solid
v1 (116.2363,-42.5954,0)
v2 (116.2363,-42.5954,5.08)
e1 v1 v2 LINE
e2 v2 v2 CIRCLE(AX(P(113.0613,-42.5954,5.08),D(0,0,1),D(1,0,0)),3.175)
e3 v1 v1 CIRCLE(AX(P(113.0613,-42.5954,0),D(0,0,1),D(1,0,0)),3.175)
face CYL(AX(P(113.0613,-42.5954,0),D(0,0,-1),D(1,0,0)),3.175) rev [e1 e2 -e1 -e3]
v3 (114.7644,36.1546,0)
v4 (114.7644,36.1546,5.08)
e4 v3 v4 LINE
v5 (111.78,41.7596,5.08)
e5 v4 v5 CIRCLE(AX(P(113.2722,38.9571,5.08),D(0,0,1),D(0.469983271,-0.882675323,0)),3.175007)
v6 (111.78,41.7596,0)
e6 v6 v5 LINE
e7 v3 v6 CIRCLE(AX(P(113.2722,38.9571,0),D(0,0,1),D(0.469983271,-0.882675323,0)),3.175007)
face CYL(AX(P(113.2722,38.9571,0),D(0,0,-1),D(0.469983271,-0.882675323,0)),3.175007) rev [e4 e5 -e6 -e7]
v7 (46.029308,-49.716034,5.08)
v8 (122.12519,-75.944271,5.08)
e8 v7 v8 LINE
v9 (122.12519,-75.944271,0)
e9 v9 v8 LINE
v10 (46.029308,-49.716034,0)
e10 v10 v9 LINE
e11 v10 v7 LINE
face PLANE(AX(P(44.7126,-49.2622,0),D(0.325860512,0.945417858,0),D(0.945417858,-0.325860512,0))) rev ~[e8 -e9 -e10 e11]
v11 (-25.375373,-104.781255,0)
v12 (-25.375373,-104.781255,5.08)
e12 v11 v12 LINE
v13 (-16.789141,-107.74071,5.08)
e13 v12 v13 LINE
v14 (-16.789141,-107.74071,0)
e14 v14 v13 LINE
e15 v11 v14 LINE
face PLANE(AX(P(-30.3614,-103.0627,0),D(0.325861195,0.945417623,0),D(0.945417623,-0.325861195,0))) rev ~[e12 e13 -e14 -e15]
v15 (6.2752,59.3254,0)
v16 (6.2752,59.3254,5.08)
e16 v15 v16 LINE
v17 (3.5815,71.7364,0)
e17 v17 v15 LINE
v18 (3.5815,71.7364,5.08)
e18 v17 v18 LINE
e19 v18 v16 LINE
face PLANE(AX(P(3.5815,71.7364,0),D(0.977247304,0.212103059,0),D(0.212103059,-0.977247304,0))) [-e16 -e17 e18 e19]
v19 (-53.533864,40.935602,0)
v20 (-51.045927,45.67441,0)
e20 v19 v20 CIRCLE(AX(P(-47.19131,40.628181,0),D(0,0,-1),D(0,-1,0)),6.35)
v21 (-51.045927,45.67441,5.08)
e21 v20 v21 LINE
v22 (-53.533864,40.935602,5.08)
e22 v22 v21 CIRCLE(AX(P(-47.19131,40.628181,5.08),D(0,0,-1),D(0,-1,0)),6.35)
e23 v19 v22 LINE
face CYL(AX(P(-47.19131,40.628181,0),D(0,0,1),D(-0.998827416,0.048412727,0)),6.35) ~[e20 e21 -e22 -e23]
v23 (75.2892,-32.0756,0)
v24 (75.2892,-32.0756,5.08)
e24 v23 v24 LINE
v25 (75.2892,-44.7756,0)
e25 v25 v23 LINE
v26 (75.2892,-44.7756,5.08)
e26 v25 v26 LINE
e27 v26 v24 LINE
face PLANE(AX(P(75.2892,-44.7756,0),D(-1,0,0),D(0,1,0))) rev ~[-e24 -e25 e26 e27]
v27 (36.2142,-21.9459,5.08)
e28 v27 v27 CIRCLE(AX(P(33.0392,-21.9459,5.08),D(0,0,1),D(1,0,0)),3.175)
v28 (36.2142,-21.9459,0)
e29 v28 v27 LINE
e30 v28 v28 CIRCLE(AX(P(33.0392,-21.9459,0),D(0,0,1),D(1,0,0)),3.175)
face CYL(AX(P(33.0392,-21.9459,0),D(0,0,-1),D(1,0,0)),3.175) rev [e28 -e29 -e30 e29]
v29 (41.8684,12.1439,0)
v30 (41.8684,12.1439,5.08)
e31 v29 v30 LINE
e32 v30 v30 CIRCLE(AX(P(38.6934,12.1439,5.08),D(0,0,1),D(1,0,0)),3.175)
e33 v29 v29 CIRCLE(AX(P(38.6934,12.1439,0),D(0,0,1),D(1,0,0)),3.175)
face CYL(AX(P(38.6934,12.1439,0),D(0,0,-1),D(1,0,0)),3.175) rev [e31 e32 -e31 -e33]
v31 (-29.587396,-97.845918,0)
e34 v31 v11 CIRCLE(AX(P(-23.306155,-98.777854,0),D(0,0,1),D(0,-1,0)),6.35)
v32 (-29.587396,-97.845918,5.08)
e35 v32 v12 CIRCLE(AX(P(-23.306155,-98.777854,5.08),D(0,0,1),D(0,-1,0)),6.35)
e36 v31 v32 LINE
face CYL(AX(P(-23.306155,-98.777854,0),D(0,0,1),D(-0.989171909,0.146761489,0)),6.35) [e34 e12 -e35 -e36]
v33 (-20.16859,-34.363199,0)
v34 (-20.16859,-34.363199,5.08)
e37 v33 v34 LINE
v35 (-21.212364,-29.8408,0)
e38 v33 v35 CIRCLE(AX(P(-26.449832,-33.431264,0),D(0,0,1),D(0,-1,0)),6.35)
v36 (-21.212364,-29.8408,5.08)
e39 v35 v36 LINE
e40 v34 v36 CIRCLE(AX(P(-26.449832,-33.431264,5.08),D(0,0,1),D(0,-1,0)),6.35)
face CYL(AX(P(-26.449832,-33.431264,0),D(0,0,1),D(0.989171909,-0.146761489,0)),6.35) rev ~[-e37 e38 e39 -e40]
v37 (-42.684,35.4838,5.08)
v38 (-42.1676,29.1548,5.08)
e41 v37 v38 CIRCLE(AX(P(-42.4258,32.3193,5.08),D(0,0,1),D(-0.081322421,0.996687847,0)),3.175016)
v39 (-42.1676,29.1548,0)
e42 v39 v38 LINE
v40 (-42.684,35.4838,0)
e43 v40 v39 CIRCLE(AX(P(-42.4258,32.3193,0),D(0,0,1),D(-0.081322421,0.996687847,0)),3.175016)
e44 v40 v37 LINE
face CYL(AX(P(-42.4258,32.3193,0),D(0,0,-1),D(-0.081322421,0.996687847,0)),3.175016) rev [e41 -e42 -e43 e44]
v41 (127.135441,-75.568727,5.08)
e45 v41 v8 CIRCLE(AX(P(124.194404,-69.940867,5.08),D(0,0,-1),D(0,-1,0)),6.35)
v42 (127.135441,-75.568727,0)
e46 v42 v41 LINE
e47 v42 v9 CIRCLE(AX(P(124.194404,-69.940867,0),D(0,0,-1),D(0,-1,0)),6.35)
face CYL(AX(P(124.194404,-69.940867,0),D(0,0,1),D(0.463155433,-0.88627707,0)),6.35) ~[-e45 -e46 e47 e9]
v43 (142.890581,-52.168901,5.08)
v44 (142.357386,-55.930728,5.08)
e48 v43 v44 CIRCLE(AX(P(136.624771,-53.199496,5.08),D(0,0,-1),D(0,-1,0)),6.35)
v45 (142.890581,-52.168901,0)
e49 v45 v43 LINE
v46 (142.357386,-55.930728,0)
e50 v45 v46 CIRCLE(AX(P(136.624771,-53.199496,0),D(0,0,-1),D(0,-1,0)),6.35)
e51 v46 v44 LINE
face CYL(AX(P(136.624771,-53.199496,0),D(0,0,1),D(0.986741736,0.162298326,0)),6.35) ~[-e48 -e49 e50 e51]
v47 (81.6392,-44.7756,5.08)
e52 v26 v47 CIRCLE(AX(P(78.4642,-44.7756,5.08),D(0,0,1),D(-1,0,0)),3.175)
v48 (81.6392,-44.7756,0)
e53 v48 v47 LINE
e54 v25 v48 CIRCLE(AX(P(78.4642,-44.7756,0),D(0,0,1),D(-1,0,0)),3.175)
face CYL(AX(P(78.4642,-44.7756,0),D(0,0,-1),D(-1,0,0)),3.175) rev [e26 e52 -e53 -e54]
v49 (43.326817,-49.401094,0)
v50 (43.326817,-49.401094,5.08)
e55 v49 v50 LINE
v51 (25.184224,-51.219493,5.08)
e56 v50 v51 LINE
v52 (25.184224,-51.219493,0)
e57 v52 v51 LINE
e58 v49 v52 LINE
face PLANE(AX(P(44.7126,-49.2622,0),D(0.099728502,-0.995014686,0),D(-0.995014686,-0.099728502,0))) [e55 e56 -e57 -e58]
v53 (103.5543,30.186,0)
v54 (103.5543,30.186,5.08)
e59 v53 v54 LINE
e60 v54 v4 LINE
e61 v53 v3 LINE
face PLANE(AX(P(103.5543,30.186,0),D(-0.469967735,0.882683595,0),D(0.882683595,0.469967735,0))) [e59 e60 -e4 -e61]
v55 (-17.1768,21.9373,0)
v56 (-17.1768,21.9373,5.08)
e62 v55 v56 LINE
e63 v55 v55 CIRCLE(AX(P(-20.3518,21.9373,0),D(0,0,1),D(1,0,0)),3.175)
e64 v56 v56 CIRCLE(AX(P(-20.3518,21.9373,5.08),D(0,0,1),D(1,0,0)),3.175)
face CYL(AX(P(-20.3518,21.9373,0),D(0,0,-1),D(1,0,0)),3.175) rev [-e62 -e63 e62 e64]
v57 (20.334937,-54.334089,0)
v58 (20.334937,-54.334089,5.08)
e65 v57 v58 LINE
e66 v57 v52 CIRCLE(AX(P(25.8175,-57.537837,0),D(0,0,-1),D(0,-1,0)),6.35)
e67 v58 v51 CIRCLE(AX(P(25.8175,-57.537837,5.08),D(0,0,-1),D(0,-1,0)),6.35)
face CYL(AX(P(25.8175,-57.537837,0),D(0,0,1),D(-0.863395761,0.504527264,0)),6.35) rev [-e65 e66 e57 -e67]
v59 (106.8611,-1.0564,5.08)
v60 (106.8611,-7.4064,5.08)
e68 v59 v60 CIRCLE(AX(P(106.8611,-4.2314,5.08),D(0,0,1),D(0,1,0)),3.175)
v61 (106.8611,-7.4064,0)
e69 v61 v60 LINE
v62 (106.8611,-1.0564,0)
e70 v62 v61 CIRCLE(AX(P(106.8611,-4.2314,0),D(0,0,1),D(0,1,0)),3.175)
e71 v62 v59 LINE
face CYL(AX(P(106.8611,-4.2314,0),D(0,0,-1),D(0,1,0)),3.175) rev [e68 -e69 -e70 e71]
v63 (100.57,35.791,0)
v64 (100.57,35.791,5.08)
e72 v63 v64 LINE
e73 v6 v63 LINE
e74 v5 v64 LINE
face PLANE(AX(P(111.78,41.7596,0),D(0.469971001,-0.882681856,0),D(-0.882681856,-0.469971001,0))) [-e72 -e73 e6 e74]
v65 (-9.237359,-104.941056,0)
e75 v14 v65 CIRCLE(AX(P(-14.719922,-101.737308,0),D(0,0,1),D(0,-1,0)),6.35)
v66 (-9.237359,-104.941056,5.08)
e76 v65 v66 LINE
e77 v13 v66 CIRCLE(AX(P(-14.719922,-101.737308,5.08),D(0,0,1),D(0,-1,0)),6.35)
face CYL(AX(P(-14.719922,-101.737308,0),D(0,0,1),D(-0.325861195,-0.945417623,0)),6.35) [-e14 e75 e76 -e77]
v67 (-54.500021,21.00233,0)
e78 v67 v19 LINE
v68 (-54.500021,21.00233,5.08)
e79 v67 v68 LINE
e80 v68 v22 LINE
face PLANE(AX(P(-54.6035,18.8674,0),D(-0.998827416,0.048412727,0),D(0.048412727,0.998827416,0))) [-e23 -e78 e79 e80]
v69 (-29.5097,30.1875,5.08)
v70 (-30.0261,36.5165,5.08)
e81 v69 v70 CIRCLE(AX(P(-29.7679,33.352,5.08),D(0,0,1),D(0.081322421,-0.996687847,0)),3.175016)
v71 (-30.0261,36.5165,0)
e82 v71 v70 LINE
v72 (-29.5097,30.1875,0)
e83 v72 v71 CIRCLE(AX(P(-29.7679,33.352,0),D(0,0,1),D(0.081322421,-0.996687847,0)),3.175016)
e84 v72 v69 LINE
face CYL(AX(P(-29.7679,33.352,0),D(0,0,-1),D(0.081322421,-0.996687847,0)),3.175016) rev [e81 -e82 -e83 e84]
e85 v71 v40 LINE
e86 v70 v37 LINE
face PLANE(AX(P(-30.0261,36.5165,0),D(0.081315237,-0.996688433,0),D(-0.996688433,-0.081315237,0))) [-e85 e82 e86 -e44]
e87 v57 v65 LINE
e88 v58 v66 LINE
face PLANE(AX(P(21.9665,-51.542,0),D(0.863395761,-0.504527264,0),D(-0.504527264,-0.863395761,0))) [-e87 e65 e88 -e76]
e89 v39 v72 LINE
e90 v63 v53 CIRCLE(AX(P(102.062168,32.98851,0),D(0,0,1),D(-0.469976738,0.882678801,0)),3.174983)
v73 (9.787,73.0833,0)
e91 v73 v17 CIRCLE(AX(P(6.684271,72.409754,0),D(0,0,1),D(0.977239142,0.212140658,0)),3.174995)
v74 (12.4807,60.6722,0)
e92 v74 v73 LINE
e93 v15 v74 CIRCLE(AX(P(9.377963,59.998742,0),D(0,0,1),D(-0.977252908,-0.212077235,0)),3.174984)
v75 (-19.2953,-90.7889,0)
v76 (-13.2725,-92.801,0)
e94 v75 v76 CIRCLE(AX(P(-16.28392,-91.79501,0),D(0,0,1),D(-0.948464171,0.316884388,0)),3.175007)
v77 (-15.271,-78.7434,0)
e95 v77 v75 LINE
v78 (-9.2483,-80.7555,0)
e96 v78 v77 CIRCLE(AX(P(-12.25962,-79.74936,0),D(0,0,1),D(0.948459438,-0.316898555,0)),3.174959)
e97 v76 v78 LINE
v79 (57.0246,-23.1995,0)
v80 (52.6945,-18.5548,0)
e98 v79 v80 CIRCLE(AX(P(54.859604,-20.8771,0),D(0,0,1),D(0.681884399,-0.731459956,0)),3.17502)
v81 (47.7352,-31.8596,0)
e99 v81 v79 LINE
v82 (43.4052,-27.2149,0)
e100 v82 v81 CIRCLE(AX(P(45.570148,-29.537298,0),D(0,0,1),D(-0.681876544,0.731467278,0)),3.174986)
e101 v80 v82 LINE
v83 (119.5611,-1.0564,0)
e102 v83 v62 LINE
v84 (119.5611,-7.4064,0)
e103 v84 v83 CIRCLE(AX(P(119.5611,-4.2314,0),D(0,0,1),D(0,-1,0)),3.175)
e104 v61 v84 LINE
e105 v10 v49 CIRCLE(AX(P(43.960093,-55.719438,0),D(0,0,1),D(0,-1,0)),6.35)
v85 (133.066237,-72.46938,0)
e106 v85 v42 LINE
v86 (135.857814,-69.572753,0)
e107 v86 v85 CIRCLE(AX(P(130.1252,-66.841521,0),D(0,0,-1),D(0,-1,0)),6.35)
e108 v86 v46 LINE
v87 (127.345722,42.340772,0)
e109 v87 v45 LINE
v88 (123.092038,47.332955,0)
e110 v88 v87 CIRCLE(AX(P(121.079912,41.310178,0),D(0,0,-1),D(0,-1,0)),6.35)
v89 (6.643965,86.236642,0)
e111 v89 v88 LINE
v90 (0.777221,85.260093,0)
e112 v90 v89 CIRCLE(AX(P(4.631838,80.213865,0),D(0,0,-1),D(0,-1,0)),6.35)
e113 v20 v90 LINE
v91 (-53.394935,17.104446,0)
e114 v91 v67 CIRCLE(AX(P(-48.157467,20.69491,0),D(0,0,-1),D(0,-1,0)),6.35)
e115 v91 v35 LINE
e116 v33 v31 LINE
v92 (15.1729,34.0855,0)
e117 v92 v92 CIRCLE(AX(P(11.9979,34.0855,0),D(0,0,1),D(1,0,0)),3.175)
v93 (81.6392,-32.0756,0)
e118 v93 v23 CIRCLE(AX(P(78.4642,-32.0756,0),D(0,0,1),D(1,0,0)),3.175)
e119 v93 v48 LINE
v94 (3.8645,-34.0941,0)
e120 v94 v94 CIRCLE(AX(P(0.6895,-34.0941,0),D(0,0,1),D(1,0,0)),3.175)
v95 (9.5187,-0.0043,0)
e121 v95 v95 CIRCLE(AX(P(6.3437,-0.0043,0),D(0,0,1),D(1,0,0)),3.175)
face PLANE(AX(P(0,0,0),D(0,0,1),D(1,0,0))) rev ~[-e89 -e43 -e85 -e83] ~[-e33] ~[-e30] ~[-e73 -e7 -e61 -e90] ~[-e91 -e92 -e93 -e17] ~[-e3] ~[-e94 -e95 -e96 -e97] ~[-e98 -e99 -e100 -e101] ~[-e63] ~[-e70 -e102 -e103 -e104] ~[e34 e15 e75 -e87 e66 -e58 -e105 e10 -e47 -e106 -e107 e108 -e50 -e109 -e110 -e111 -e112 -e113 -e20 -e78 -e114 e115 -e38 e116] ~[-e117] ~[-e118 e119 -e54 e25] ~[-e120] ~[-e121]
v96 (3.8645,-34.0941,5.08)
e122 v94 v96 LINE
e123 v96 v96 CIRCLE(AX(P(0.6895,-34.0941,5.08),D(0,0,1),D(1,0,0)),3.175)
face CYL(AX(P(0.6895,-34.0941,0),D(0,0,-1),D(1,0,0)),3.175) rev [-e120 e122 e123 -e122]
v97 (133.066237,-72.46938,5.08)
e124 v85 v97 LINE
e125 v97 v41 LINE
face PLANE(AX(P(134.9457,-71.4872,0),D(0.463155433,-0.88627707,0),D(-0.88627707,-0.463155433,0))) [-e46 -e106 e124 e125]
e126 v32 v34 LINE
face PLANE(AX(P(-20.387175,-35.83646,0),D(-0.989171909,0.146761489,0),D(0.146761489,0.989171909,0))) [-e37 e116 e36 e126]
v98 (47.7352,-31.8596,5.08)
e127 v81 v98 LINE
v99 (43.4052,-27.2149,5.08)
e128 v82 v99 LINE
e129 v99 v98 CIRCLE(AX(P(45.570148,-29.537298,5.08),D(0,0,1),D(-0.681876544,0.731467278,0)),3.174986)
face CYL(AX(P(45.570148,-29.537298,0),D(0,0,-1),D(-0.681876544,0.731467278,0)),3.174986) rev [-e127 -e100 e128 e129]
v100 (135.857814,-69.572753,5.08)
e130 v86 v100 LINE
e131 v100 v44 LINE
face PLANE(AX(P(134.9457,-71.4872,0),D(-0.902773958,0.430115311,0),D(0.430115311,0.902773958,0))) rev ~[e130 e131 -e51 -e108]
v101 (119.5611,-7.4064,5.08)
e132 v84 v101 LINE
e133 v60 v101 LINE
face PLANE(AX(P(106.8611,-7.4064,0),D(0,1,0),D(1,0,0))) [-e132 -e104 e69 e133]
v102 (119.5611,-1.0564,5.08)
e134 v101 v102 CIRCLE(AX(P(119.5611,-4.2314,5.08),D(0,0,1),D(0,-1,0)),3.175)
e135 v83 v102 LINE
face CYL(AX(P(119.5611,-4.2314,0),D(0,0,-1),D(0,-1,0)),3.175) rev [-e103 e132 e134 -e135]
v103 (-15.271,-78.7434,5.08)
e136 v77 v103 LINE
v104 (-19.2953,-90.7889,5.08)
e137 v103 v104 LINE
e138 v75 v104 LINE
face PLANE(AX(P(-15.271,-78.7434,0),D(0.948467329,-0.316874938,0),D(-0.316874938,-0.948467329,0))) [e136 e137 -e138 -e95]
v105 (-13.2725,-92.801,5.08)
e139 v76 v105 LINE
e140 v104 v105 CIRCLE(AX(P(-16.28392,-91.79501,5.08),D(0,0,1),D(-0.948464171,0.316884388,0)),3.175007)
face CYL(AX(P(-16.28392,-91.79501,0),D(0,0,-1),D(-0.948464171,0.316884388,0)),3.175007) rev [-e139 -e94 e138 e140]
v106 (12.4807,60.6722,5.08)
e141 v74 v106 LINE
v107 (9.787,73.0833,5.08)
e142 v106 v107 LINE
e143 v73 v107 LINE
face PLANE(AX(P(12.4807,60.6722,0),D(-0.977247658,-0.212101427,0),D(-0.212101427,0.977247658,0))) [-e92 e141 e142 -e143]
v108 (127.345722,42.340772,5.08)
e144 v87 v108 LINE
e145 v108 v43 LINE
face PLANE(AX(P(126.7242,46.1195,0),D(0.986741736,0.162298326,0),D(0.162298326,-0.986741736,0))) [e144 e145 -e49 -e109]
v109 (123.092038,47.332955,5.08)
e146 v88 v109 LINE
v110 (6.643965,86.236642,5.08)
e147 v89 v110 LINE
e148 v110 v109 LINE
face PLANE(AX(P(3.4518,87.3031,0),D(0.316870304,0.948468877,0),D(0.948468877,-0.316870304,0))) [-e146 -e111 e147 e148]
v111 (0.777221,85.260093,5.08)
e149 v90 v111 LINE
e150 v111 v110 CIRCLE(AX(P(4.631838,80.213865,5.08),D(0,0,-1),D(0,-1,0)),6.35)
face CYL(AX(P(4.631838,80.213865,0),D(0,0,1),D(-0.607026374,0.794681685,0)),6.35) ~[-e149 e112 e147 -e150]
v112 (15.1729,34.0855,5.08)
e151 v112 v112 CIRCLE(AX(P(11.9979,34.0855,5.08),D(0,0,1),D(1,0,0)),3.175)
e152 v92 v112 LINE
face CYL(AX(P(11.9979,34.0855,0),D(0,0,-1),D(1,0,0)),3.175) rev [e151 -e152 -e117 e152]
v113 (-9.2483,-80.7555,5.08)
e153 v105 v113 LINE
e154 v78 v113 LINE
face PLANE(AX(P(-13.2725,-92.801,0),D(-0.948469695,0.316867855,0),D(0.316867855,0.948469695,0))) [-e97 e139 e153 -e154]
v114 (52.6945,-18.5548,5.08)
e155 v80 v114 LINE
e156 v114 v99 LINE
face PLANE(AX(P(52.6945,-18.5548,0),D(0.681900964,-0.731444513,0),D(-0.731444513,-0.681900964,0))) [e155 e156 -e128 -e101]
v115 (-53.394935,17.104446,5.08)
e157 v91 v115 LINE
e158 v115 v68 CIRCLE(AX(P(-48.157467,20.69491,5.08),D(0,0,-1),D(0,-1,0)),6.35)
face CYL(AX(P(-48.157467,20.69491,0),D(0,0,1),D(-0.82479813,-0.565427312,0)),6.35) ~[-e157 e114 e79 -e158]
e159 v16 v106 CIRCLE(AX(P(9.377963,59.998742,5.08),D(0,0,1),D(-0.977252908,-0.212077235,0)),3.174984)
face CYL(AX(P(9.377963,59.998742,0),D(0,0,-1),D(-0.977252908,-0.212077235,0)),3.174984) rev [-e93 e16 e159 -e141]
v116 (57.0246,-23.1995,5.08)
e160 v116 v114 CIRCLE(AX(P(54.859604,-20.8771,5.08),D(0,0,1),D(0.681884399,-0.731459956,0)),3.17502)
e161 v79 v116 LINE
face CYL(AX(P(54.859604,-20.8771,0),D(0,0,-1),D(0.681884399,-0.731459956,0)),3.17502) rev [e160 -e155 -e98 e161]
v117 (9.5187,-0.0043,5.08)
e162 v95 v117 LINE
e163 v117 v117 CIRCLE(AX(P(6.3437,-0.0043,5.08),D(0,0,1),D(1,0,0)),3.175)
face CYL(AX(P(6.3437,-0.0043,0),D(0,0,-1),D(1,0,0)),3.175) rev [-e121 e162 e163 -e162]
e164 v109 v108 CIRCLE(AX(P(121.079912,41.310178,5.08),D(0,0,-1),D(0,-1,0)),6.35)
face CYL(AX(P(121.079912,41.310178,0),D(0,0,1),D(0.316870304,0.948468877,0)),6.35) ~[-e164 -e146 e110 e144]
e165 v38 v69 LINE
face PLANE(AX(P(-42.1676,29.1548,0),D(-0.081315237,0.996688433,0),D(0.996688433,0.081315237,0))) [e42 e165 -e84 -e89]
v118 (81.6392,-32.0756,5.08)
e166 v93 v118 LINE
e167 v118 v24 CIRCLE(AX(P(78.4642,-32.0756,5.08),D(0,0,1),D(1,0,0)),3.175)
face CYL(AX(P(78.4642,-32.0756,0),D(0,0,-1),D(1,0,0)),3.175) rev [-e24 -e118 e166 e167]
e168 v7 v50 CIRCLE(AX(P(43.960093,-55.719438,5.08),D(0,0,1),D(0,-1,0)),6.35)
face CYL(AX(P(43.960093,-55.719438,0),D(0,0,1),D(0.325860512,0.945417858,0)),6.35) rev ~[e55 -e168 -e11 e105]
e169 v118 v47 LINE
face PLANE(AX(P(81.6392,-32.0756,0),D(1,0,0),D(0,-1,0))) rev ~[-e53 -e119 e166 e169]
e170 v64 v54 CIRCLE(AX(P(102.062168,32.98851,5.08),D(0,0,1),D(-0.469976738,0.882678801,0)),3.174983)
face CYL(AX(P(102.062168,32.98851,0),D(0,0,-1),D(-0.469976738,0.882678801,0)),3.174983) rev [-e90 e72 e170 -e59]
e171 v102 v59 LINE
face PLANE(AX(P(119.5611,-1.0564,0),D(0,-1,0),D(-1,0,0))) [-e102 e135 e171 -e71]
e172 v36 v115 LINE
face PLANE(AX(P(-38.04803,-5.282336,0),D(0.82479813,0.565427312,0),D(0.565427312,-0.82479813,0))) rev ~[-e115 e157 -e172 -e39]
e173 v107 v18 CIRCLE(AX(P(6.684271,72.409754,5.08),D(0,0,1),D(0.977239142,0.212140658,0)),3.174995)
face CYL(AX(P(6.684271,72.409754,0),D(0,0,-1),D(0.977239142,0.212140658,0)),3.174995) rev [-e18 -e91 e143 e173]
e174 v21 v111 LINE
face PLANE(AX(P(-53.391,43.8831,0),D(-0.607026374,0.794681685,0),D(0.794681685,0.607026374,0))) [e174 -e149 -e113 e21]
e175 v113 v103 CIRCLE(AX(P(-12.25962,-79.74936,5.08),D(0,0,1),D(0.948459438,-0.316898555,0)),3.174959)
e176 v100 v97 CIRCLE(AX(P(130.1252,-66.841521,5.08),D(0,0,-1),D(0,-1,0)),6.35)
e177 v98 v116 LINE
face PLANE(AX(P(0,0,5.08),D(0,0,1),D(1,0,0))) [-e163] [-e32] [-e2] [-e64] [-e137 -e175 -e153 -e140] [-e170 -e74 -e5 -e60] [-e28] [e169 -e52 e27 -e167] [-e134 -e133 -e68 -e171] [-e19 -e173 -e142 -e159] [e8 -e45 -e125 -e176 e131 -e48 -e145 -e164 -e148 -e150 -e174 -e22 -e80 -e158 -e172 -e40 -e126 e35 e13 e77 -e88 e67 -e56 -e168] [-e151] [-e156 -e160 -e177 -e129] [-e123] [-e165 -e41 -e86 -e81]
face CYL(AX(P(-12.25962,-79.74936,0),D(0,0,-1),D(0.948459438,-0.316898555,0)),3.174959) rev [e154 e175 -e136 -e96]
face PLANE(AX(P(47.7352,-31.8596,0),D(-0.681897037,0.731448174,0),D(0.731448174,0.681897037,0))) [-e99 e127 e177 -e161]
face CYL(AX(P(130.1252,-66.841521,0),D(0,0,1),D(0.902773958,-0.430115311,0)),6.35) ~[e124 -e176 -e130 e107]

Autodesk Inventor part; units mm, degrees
ref_plane "YZ Plane" through (0, 0, 0) normal (1, 0, 0) x (0, 1, 0)
ref_plane "XZ Plane" through (0, 0, 0) normal (0, 1, 0) x (-1, 0, 0)
ref_plane "XY Plane" through (0, 0, 0) normal (0, 0, 1) x (1, 0, 0)
sketch "Base" plane through (0, 0, 0) normal (0, 0, 1) x (1, 0, 0)
  circle A0 centre (6.3437, -0.0043) radius 44.7044
  line L0 (-53.391, 43.8831) -> (3.4518, 87.3031)
  line L1 (3.4518, 87.3031) -> (126.7242, 46.1195)
  line L2 (21.9665, -51.542) -> (-11.8651, -109.4379)
  line L3 (134.9457, -71.4872) -> (143.2137, -54.1334)
  line L4 (44.7126, -49.2622) -> (124.7112, -76.8356)
  line L5 (44.7126, -49.2622) -> (21.9665, -51.542)
  line L6 (126.7242, 46.1195) -> (143.2137, -54.1334)
  line L7 (134.9457, -71.4872) -> (124.7112, -76.8356)
  line L8 (-30.3614, -103.0627) -> (-11.8651, -109.4379)
  line L9 (-30.3614, -103.0627) -> (-19.8027, -31.8971)
  circle A1 centre (113.0613, -42.5954) radius 19.05 construction
  line L10 (-54.6035, 18.8674) -> (-53.391, 43.8831)
  line L11 (-54.6035, 18.8674) -> (-19.8027, -31.8971)
  line L12 (-94.1669, 0) -> (182.7771, 0) construction
  circle A2 centre (6.3437, -0.0043) radius 3.175
  circle A3 centre (113.0613, -42.5954) radius 3.175
  line L13 (126.7242, 46.1195) -> (-19.8027, -31.8971) construction
  line L14 (3.4518, 87.3031) -> (33.3396, -50.4021) construction
  line L15 (-53.9972, 31.3753) -> (126.7242, 46.1195) construction
  line L16 (134.969, -4.007) -> (-37.2031, -6.5149) construction
  line L17 (-21.1132, -106.2503) -> (39.5241, 75.2519) construction
  line L18 (78.4642, -60.8955) -> (78.4642, 62.2425) construction
  line L19 (21.9665, -51.542) -> (126.7242, 46.1195) construction
  line L20 (0, 0) -> (-53.391, 43.8831) construction
  circle A4 centre (-20.3518, 21.9373) radius 3.175
  circle A5 centre (6.3437, -0.0043) radius 34.5555 construction
  circle A6 centre (-26.006, -12.1525) radius 3.175
  circle A7 centre (0.6895, -34.0941) radius 3.175
  circle A8 centre (33.0392, -21.9459) radius 3.175
  circle A9 centre (38.6934, 12.1439) radius 3.175
  circle A10 centre (11.9979, 34.0855) radius 3.175
  line L21 (113.2722, 38.9571) -> (102.0622, 32.9885) construction
  line L22 (111.78, 41.7596) -> (100.57, 35.791)
  line L23 (103.5543, 30.186) -> (114.7644, 36.1546)
  arc A11 (114.7644, 36.1546) -> (111.78, 41.7596) centre (113.2722, 38.9571) ccw
  arc A12 (100.57, 35.791) -> (103.5543, 30.186) centre (102.0622, 32.9885) ccw
  line L24 (119.5611, -4.2314) -> (106.8611, -4.2314) construction
  line L25 (119.5611, -1.0564) -> (106.8611, -1.0564)
  line L26 (106.8611, -7.4064) -> (119.5611, -7.4064)
  arc A13 (119.5611, -7.4064) -> (119.5611, -1.0564) centre (119.5611, -4.2314) ccw
  arc A14 (106.8611, -1.0564) -> (106.8611, -7.4064) centre (106.8611, -4.2314) ccw
  line L27 (6.6843, 72.4098) -> (9.378, 59.9988) construction
  line L28 (3.5815, 71.7364) -> (6.2752, 59.3254)
  line L29 (12.4807, 60.6722) -> (9.787, 73.0833)
  arc A15 (9.787, 73.0833) -> (3.5815, 71.7364) centre (6.6843, 72.4098) ccw
  arc A16 (6.2752, 59.3254) -> (12.4807, 60.6722) centre (9.378, 59.9988) ccw
  line L30 (-16.2839, -91.795) -> (-12.2597, -79.7494) construction
  line L31 (-13.2725, -92.801) -> (-9.2483, -80.7555)
  line L32 (-15.271, -78.7434) -> (-19.2953, -90.7889)
  arc A17 (-19.2953, -90.7889) -> (-13.2725, -92.801) centre (-16.2839, -91.795) ccw
  arc A18 (-9.2483, -80.7555) -> (-15.271, -78.7434) centre (-12.2597, -79.7494) ccw
  line L33 (78.4642, -44.7756) -> (78.4642, -32.0756) construction
  line L34 (75.2892, -44.7756) -> (75.2892, -32.0756)
  line L35 (81.6392, -32.0756) -> (81.6392, -44.7756)
  arc A19 (75.2892, -44.7756) -> (81.6392, -44.7756) centre (78.4642, -44.7756) ccw
  arc A20 (81.6392, -32.0756) -> (75.2892, -32.0756) centre (78.4642, -32.0756) ccw
  line L36 (-42.4258, 32.3193) -> (-29.7679, 33.352) construction
  line L37 (-42.1676, 29.1548) -> (-29.5097, 30.1875)
  line L38 (-30.0261, 36.5165) -> (-42.684, 35.4838)
  arc A21 (-42.684, 35.4838) -> (-42.1676, 29.1548) centre (-42.4258, 32.3193) ccw
  arc A22 (-29.5097, 30.1875) -> (-30.0261, 36.5165) centre (-29.7679, 33.352) ccw
  line L39 (45.5702, -29.5373) -> (54.8596, -20.8771) construction
  line L40 (47.7352, -31.8596) -> (57.0246, -23.1995)
  line L41 (52.6945, -18.5548) -> (43.4052, -27.2149)
  arc A23 (43.4052, -27.2149) -> (47.7352, -31.8596) centre (45.5702, -29.5373) ccw
  arc A24 (57.0246, -23.1995) -> (52.6945, -18.5548) centre (54.8596, -20.8771) ccw
  point P0 (107.6672, 35.9728)
  point P1 (113.2111, -4.2314)
  point P2 (8.0311, 66.2043)
  point P3 (-14.2718, -85.7722)
  point P4 (78.4642, -38.4256)
  point P5 (-36.0969, 32.8357)
  point P6 (50.2149, -25.2072)
  dimension "d48" = 69.111
  dimension "d0" = 38.1
  dimension "d1" = 89.4088
  dimension "d2" = 55.568
  dimension "d3" = 37.094
  dimension "d4" = 120.3
  dimension "d5" = 81.561
  dimension "d6" = 160.982
  dimension "d7" = 133.392
  dimension "d8" = 143.066
  dimension "d9" = 145.185
  dimension "d10" = 124.151
  dimension "d11" = 130.15
  dimension "d12" = 142.793
  dimension "d13" = 117.814
  dimension "d14" = 19.5642
  dimension "d15" = 25.0158
  dimension "d16" = 71.529
  dimension "d17" = 61.5478
  dimension "d18" = 129.9699
  dimension "d19" = 101.6
  dimension "d20" = 19.2227
  dimension "d21" = 11.5477
  dimension "d22" = 84.6172
  dimension "d23" = 67.056
  dimension "d24" = 22.86
  dimension "d25" = 39.5986
  dimension "d26" = 71.1371
  dimension "d27" = 28.575
  dimension "d28" = 27.8801
  dimension "d29" = 6.35
  dimension "d30" = 6.35
  dimension "d31" = 48.26
  dimension "d32" = 6.35
  dimension "d35" = 360
  dimension "d37" = 6.35
  dimension "d38" = 6.35
  dimension "d39" = 15.24
  dimension "d40" = 12.7
  dimension "d41" = 15.24
  dimension "d43" = 15.24
  dimension "d44" = 15.24
  dimension "d45" = 15.24
  dimension "d46" = 15.7016
  dimension "d49" = 140.583
  dimension "d50" = 4.2314
  dimension "d51" = 91.5631
  dimension "d52" = 12.1439
  dimension "d53" = 0
  dimension "d54" = 30.1875
  dimension "d60" = 126.024
  dimension "d61" = 155.259
extrude "Plate1" add sketch "Base" along normal blind 5.08 contours A0 L9 L11 | A0 L11 L10 L0 L1 L6 L3 L7 L4 L5 L2 L8 L9 | A6 picked at (-0.619, 18.5381)
fillet "Fillet1" radius 6.35 12 edges at (126.7242, 46.1195, 2.54) (3.4518, 87.3031, 2.54) (143.2137, -54.1334, 2.54) (134.9457, -71.4872, 2.54) (124.7112, -76.8356, 2.54) (-11.8651, -109.4379, 2.54) (44.7126, -49.2622, 2.54) (21.9665, -51.542, 2.54) (-30.3614, -103.0627, 2.54) (-19.8027, -31.8971, 2.54) (-54.6035, 18.8674, 2.54) (-53.391, 43.8831, 2.54)
equation "\"d41\" = d39"
equation "\"d43\" = d39"
equation "\"d44\" = d43"
equation "\"d45\" = d43"
equation "\"d47\" = Thickness"
equation "\"BendRadius\" = Thickness"
equation "\"BendReliefWidth\" = Thickness"
equation "\"BendReliefDepth\" = 0.5 * Thickness"
equation "\"CornerReliefSize\" = 4 * Thickness"
equation "\"MinimumRemnant\" = 2 * Thickness"
equation "\"TransitionRadius\" = BendRadius"
equation "\"JacobiRadiusSize\" = BendRadius"
equation "\"GapSize\" = Thickness"
equation "\"Thickness\" = 5.08"
properties part number "UpperLeg2"
